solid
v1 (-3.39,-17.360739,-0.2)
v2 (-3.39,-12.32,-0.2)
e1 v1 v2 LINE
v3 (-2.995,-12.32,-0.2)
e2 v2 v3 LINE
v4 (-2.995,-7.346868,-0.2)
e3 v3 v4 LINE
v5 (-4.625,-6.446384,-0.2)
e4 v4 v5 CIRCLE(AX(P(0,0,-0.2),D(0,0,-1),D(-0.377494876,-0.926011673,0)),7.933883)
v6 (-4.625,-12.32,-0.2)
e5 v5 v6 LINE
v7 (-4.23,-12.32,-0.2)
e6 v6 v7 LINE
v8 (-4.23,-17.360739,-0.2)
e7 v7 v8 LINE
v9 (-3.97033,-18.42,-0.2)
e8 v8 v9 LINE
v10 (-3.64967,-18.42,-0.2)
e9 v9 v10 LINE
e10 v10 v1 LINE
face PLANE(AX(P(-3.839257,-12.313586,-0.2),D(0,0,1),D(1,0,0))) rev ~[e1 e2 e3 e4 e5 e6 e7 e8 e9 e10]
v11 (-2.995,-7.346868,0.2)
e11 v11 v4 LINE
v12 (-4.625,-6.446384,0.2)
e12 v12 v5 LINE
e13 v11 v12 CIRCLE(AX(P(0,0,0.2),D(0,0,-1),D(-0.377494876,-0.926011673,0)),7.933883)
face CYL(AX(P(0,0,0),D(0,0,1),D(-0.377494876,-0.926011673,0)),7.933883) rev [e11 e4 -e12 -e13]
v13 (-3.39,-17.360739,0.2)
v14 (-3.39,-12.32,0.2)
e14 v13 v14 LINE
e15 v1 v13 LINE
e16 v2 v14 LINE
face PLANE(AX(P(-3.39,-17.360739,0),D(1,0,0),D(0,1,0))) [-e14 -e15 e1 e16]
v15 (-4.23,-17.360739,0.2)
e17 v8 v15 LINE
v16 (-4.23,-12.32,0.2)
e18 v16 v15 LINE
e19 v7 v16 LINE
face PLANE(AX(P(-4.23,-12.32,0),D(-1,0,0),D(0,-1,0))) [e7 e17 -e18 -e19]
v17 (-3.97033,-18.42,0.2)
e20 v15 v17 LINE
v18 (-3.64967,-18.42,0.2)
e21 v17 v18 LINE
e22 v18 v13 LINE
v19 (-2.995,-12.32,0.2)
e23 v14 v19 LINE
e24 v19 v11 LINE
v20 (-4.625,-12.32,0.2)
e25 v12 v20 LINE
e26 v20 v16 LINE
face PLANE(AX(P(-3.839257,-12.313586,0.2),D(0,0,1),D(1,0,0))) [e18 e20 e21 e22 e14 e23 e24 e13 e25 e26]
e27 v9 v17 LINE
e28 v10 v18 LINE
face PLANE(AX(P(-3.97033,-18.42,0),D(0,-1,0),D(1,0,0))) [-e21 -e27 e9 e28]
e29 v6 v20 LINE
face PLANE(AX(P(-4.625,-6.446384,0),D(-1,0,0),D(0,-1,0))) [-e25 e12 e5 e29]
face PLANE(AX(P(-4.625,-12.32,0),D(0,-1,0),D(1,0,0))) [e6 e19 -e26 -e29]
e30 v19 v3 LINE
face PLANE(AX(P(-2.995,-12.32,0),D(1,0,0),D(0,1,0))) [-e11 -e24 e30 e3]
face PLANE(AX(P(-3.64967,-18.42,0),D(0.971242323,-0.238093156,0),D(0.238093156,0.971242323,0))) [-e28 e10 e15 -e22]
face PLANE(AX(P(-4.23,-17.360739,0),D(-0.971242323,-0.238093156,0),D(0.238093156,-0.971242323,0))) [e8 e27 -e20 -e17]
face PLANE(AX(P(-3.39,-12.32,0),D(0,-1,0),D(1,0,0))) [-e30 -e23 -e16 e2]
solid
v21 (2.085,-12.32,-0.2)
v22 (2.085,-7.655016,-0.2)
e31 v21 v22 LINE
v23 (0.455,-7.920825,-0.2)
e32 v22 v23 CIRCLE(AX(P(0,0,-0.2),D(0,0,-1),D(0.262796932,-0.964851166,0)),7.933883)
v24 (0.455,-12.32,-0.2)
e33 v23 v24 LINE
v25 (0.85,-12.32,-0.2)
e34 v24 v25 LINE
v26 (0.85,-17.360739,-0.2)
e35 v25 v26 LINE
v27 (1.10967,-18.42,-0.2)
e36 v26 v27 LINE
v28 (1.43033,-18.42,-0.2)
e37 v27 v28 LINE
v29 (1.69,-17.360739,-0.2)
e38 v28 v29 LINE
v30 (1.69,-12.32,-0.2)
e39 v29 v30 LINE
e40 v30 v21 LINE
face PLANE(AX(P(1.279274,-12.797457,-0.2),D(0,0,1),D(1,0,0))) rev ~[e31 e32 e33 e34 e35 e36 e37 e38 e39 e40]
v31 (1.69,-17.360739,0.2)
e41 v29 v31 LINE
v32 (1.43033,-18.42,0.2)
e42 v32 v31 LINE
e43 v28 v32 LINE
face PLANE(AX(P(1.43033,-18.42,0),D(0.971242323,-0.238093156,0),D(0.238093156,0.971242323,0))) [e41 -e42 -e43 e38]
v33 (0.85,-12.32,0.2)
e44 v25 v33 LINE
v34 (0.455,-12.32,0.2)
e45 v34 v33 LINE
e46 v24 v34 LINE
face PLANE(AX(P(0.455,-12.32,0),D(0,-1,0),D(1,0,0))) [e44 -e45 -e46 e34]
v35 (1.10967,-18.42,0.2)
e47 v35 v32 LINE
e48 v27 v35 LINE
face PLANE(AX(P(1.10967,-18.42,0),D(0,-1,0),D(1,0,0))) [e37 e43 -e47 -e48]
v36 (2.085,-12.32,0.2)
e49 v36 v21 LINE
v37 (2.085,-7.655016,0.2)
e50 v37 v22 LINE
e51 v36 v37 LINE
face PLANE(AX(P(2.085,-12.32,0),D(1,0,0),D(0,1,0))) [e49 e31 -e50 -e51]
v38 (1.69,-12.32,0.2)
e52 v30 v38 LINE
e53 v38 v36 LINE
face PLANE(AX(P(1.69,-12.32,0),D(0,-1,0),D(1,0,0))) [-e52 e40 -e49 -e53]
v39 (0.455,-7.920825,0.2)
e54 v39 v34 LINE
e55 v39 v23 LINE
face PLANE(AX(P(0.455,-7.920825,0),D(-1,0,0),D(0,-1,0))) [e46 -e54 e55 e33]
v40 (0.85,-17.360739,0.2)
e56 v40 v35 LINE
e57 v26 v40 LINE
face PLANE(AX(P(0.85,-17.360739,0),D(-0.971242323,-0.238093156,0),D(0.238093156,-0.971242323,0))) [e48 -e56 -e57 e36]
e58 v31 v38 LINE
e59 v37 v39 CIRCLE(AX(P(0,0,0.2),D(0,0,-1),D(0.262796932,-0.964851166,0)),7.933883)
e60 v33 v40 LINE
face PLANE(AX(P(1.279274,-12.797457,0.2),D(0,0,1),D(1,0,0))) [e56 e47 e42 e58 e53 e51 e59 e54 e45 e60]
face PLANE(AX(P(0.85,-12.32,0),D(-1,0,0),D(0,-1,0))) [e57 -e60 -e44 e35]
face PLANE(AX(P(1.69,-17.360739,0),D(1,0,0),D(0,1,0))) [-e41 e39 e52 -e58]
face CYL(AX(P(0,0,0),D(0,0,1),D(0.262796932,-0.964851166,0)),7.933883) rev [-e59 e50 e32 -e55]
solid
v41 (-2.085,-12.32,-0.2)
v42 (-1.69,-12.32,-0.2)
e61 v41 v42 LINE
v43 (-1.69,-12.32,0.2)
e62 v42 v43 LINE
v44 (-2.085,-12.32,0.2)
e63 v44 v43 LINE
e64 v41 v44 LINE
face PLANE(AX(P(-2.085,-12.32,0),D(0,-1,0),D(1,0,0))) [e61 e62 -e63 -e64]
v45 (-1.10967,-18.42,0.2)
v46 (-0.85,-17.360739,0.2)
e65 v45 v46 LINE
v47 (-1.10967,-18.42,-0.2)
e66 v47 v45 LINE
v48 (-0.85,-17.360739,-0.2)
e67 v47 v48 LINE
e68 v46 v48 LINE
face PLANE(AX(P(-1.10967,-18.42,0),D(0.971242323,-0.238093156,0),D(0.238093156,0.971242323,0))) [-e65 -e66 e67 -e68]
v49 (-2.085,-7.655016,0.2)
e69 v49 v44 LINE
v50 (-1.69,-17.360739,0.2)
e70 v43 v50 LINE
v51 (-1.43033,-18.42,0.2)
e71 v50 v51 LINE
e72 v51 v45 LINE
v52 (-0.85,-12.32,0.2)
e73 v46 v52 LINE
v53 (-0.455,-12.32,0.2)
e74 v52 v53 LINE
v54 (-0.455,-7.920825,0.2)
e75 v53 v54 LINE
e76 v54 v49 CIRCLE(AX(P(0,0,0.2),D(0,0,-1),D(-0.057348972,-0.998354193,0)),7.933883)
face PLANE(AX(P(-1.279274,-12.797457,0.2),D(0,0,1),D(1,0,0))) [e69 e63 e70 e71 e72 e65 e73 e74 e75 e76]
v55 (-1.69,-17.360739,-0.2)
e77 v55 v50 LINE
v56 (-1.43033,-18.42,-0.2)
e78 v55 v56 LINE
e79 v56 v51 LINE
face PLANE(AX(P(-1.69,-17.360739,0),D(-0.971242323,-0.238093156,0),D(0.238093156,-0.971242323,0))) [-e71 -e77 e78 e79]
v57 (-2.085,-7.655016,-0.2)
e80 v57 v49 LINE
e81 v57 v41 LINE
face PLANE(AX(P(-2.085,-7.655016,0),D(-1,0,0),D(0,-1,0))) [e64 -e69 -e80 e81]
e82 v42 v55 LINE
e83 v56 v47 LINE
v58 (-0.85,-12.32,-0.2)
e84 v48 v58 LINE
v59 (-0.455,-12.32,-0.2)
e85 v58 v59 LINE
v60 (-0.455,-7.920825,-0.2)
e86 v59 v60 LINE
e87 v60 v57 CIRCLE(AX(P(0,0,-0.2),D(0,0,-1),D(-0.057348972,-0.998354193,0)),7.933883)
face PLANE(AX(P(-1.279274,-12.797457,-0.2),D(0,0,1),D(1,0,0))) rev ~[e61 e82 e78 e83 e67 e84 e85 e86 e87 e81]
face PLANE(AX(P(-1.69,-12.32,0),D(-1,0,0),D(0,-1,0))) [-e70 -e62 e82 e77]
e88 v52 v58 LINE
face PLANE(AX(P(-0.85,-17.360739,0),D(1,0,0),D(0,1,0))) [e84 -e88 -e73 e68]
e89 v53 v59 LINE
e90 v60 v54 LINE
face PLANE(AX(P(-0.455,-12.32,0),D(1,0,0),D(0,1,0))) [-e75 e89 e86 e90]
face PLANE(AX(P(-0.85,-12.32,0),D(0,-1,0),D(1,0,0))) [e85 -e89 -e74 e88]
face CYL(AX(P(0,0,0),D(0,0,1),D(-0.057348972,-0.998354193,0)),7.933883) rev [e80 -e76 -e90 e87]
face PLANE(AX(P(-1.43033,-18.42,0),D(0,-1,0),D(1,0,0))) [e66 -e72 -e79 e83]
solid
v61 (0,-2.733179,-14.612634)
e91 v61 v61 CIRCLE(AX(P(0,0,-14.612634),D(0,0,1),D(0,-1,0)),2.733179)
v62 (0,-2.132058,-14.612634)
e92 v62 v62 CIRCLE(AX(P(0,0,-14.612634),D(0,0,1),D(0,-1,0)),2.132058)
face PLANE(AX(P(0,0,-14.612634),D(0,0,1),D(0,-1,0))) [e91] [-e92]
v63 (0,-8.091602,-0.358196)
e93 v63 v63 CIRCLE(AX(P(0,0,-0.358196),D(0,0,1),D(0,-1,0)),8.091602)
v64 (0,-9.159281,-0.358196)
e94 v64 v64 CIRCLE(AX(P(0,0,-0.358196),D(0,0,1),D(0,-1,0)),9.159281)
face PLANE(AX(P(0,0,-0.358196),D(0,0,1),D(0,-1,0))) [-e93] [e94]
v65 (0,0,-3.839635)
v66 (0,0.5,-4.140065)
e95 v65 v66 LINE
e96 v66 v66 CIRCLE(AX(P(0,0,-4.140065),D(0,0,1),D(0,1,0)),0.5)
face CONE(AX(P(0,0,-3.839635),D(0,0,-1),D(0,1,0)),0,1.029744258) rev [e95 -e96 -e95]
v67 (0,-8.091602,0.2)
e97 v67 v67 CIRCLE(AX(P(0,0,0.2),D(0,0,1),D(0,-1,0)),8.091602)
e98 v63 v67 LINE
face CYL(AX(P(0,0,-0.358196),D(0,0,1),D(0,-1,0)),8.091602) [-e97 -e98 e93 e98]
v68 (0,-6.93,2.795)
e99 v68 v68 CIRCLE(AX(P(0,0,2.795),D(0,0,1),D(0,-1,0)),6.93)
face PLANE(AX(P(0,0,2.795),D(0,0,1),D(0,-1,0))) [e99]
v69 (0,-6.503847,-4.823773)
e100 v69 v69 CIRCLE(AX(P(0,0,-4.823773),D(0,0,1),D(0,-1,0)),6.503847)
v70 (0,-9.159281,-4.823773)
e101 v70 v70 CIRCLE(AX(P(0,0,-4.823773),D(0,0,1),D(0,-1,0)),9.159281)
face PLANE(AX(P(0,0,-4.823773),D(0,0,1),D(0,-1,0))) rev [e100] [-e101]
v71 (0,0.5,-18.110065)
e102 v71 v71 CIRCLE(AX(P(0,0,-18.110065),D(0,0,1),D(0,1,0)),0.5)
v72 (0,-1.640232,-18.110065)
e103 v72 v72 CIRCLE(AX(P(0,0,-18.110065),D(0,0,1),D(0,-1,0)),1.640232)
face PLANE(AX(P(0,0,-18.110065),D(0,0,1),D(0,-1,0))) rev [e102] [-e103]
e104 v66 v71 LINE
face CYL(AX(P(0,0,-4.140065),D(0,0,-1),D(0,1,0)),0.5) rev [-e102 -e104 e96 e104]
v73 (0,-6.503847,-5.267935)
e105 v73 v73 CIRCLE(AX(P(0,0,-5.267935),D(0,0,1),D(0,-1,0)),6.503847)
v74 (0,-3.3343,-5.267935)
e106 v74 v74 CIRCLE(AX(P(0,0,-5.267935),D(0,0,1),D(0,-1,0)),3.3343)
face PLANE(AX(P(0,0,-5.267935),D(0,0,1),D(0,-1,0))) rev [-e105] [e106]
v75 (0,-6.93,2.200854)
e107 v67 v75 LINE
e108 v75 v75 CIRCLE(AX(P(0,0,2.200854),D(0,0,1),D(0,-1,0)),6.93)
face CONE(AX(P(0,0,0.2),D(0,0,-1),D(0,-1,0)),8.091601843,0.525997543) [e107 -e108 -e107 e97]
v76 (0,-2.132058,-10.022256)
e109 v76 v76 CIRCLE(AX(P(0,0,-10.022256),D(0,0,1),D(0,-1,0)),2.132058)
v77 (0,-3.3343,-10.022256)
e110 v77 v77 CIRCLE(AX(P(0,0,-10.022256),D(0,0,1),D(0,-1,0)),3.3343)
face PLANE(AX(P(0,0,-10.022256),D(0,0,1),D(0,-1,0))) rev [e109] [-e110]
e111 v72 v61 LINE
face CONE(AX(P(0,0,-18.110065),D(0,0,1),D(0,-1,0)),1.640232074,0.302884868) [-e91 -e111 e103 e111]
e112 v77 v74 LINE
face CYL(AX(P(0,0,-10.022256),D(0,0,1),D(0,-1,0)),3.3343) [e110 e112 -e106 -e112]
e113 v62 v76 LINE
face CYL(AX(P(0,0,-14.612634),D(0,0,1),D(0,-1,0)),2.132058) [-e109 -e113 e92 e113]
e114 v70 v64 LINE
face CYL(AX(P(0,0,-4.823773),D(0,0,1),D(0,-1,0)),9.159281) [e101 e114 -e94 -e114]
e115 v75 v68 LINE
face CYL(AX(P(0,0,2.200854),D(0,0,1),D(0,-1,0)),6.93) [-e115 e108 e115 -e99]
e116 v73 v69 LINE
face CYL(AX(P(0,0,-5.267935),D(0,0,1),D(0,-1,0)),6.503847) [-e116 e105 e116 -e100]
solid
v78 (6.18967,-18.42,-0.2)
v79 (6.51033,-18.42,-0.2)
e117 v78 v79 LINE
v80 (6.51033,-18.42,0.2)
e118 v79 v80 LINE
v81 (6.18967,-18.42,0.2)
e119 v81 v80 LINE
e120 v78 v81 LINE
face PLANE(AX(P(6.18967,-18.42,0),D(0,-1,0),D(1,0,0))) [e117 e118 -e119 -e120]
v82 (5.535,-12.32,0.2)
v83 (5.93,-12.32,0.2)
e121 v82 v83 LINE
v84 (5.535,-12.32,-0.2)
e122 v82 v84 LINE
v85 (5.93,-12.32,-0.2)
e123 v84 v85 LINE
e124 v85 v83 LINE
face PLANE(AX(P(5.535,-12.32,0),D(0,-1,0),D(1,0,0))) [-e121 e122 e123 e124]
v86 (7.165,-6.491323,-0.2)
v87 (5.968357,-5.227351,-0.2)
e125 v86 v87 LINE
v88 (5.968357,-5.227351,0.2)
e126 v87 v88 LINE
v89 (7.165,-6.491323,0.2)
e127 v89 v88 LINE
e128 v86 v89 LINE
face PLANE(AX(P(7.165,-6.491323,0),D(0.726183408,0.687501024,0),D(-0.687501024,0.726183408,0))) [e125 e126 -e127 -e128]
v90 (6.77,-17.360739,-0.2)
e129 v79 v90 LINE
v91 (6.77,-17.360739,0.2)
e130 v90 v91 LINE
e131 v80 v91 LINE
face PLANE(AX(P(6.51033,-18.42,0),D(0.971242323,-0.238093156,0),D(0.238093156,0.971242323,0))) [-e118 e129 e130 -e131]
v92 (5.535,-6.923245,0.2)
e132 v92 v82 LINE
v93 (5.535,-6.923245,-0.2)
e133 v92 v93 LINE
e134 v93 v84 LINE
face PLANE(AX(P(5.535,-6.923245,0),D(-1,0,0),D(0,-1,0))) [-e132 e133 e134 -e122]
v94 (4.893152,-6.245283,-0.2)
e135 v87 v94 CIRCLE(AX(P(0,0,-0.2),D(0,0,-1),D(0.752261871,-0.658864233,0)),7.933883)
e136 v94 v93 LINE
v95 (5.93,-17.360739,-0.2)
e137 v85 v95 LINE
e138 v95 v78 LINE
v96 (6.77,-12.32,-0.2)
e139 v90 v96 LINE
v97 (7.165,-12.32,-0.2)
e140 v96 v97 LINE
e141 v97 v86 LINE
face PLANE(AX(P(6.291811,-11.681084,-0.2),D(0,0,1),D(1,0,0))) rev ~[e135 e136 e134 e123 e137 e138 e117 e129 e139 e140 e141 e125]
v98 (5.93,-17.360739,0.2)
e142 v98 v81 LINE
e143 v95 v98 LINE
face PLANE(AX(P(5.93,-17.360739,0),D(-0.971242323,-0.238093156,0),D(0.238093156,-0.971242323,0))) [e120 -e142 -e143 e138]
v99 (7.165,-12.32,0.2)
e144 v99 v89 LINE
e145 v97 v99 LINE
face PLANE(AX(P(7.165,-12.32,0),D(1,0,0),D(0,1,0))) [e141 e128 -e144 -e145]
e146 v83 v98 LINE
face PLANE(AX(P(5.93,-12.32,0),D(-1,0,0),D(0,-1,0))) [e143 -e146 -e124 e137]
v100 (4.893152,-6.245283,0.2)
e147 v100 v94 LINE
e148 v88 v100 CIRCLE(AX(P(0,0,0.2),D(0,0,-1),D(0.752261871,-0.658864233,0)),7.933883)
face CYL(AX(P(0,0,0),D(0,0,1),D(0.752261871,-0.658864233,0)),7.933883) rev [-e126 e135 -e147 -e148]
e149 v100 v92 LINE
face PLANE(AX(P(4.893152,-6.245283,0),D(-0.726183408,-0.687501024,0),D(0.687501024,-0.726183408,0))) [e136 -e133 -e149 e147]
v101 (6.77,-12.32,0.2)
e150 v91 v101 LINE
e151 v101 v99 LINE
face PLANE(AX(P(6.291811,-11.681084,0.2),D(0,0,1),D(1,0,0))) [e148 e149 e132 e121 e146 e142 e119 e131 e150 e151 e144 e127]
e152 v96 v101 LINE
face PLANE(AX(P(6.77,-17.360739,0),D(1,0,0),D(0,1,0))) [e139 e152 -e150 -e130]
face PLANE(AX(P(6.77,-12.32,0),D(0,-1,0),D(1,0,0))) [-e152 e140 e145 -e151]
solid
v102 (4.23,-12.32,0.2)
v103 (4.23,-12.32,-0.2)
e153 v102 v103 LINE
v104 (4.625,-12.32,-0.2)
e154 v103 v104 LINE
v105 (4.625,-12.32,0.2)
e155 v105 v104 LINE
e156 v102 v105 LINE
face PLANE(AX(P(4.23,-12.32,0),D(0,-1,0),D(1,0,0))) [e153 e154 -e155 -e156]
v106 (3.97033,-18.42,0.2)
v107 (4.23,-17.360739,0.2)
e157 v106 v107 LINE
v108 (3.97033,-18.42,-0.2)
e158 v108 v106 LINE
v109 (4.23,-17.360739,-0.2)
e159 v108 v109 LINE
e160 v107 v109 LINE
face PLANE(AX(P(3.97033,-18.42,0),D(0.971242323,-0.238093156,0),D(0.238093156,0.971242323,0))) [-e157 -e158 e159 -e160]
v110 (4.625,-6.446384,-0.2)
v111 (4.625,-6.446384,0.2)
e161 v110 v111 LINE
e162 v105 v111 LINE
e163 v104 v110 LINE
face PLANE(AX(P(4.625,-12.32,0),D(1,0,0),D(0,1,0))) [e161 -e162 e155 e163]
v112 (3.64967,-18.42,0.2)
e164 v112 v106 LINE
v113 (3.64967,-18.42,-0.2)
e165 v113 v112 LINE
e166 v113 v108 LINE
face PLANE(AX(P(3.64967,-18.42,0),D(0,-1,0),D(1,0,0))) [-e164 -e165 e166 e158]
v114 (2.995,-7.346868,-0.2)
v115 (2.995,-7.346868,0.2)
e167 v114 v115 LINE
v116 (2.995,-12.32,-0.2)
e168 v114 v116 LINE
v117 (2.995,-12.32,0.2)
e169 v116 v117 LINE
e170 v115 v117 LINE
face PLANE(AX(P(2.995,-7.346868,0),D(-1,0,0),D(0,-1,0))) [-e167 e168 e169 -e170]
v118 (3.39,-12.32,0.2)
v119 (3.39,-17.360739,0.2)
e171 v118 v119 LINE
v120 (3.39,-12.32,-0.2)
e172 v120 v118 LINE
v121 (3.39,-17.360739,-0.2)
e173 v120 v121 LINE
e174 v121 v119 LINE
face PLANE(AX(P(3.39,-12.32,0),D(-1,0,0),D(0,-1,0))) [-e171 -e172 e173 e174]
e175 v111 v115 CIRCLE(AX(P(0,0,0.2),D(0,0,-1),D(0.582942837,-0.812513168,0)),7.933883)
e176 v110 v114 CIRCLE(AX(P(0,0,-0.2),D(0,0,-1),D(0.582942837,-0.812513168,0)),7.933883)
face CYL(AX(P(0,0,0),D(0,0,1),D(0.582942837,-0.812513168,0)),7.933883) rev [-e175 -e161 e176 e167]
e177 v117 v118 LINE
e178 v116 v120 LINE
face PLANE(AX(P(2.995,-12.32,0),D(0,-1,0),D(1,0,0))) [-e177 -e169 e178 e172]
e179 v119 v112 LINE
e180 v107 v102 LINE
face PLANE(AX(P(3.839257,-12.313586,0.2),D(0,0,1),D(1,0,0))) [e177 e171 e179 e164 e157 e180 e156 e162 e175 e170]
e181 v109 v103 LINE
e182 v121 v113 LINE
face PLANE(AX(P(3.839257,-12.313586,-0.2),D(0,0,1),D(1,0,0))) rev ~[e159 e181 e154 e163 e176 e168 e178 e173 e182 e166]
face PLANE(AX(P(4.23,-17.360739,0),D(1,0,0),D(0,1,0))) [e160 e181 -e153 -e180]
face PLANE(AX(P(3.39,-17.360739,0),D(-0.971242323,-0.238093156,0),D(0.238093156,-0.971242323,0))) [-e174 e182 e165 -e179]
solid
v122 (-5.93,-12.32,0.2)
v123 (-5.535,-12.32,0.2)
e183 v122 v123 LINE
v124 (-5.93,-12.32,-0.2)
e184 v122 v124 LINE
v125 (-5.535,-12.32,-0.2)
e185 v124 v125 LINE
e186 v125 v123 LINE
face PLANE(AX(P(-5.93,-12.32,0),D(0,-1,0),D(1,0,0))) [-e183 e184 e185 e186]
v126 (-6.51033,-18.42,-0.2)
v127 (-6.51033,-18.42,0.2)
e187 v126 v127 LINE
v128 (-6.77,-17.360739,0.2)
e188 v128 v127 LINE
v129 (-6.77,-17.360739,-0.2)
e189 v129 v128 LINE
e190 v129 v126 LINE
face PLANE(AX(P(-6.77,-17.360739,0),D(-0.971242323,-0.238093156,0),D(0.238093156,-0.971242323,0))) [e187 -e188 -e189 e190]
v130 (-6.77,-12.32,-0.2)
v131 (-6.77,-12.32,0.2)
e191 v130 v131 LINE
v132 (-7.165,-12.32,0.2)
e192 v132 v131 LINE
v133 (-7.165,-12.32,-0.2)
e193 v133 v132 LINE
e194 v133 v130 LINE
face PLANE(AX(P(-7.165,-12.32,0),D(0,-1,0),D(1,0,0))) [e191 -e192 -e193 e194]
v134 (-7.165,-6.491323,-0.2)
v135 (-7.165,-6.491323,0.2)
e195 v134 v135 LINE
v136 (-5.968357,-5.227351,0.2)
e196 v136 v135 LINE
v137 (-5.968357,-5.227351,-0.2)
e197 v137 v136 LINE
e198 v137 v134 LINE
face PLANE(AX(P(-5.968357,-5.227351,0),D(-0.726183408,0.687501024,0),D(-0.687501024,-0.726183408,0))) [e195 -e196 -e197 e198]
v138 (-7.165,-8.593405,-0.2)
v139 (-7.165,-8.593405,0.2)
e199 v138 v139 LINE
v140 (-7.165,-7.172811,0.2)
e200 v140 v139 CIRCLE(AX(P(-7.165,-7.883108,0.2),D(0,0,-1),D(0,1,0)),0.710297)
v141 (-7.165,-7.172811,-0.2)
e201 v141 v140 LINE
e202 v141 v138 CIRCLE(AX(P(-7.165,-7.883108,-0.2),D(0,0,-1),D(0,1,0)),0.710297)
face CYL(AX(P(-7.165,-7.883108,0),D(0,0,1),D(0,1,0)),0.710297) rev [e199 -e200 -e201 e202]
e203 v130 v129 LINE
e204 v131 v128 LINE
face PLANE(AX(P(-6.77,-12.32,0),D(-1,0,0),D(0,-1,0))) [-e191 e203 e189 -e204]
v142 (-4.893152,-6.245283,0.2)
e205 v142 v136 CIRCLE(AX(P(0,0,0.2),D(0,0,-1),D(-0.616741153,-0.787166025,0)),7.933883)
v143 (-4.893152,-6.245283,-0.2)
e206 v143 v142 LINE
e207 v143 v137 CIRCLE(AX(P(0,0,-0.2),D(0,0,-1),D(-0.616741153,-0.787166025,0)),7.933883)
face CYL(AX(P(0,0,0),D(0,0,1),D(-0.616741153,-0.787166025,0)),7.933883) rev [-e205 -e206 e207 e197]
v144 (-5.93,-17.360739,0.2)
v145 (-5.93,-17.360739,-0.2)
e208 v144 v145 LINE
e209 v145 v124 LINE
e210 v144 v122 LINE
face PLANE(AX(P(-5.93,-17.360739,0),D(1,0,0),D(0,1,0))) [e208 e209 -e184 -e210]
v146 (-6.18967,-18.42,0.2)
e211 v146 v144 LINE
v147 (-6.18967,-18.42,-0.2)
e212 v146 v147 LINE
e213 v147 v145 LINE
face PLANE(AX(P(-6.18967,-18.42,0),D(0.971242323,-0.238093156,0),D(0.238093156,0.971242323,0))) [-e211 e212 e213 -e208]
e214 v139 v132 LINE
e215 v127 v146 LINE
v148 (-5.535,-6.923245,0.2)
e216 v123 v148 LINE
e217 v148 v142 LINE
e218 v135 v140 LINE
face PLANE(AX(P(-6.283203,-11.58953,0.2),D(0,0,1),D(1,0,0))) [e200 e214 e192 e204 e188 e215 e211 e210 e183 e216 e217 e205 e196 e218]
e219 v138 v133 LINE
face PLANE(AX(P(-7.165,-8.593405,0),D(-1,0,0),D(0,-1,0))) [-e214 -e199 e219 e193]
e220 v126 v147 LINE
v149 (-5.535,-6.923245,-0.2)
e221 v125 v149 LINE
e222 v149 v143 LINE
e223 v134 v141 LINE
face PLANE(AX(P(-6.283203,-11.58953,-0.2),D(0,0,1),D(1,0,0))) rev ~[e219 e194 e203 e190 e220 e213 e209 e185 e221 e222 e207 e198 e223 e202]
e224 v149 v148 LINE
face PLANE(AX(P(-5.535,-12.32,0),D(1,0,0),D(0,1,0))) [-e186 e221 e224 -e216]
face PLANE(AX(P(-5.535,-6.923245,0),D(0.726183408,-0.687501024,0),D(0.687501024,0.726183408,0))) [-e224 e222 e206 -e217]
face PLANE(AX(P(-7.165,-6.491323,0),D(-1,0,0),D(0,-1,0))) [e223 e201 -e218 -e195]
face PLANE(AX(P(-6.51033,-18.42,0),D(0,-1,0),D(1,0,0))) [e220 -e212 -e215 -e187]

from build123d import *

# Parameters (mm, degrees)
EXTRUDE6_DEPTH        = 0.2
EXTRUDE6_DEPTH_BACK   = 0.2
EXTRUDE6_2_DEPTH      = 0.2
EXTRUDE6_2_DEPTH_BACK = 0.2
EXTRUDE6_3_DEPTH      = 0.2
EXTRUDE6_3_DEPTH_BACK = 0.2
EXTRUDE6_4_DEPTH      = 0.2
EXTRUDE6_4_DEPTH_BACK = 0.2
EXTRUDE6_5_DEPTH      = 0.2
EXTRUDE6_5_DEPTH_BACK = 0.2
EXTRUDE6_6_DEPTH      = 0.2
EXTRUDE6_6_DEPTH_BACK = 0.2


with BuildPart() as part:
    # Sketch7 → Extrude6 (new body, two sides)
    with BuildSketch(Plane.XY) as extrude6_sk:
        with BuildLine():
            Line((-5.93, -12.32), (-5.535, -12.32))
            Line((-5.535, -12.32), (-5.535, -6.923244628))
            Line((-5.535, -6.923244628), (-4.893151867, -6.24528278))
            ThreePointArc((-4.893151867, -6.24528278), (-5.454552369, -5.761453866), (-5.968357327, -5.227351434))
            Line((-5.968357327, -5.227351434), (-7.165, -6.49132345))
            Line((-7.165, -6.49132345), (-7.165, -7.17281133))
            ThreePointArc((-7.165, -7.17281133), (-6.454703172, -7.883108158), (-7.165, -8.593404986))
            Line((-7.165, -8.593404986), (-7.165, -12.32))
            Line((-7.165, -12.32), (-6.77, -12.32))
            Line((-6.77, -12.32), (-6.77, -17.360738904))
            Line((-6.77, -17.360738904), (-6.510329667, -18.42))
            Line((-6.510329667, -18.42), (-6.189670333, -18.42))
            Line((-6.189670333, -18.42), (-5.93, -17.360738904))
            Line((-5.93, -17.360738904), (-5.93, -12.32))
        make_face()
    extrude(amount=EXTRUDE6_DEPTH)
    extrude(extrude6_sk.sketch, amount=-EXTRUDE6_DEPTH_BACK)


with BuildPart() as body_2:
    # Sketch7 → Extrude6 2 (new body, two sides)
    with BuildSketch(Plane.XY) as extrude6_2_sk:
        with BuildLine():
            Line((-4.625, -6.446384041), (-4.625, -12.32))
            Line((-4.625, -12.32), (-4.23, -12.32))
            Line((-4.23, -12.32), (-4.23, -17.360738904))
            Line((-4.23, -17.360738904), (-3.970329667, -18.42))
            Line((-3.970329667, -18.42), (-3.649670333, -18.42))
            Line((-3.649670333, -18.42), (-3.39, -17.360738904))
            Line((-3.39, -17.360738904), (-3.39, -12.32))
            Line((-3.39, -12.32), (-2.995, -12.32))
            Line((-2.995, -12.32), (-2.995, -7.34686785))
            ThreePointArc((-2.995, -7.34686785), (-3.836511146, -6.944614779), (-4.625, -6.446384041))
        make_face()
    extrude(amount=EXTRUDE6_2_DEPTH)
    extrude(extrude6_2_sk.sketch, amount=-EXTRUDE6_2_DEPTH_BACK)


with BuildPart() as body_3:
    # Sketch7 → Extrude6 3 (new body, two sides)
    with BuildSketch(Plane.XY) as extrude6_3_sk:
        with BuildLine():
            Line((-0.455, -12.32), (-0.455, -7.920824907))
            ThreePointArc((-0.455, -7.920824907), (-1.276935244, -7.830448811), (-2.085, -7.65501582))
            Line((-2.085, -7.65501582), (-2.085, -12.32))
            Line((-2.085, -12.32), (-1.69, -12.32))
            Line((-1.69, -12.32), (-1.69, -17.360738904))
            Line((-1.69, -17.360738904), (-1.430329667, -18.42))
            Line((-1.430329667, -18.42), (-1.109670333, -18.42))
            Line((-1.109670333, -18.42), (-0.85, -17.360738904))
            Line((-0.85, -17.360738904), (-0.85, -12.32))
            Line((-0.85, -12.32), (-0.455, -12.32))
        make_face()
    extrude(amount=EXTRUDE6_3_DEPTH)
    extrude(extrude6_3_sk.sketch, amount=-EXTRUDE6_3_DEPTH_BACK)


with BuildPart() as body_4:
    # Sketch7 → Extrude6 4 (new body, two sides)
    with BuildSketch(Plane.XY) as extrude6_4_sk:
        with BuildLine():
            Line((4.625, -12.32), (4.625, -6.446384041))
            ThreePointArc((4.625, -6.446384041), (3.836511146, -6.944614779), (2.995, -7.34686785))
            Line((2.995, -7.34686785), (2.995, -12.32))
            Line((2.995, -12.32), (3.39, -12.32))
            Line((3.39, -12.32), (3.39, -17.360738904))
            Line((3.39, -17.360738904), (3.649670333, -18.42))
            Line((3.649670333, -18.42), (3.970329667, -18.42))
            Line((3.970329667, -18.42), (4.23, -17.360738904))
            Line((4.23, -17.360738904), (4.23, -12.32))
            Line((4.23, -12.32), (4.625, -12.32))
        make_face()
    extrude(amount=EXTRUDE6_4_DEPTH)
    extrude(extrude6_4_sk.sketch, amount=-EXTRUDE6_4_DEPTH_BACK)


with BuildPart() as body_5:
    # Sketch7 → Extrude6 5 (new body, two sides)
    with BuildSketch(Plane.XY) as extrude6_5_sk:
        with BuildLine():
            Line((0.455, -7.920824907), (0.455, -12.32))
            Line((0.455, -12.32), (0.85, -12.32))
            Line((0.85, -12.32), (0.85, -17.360738904))
            Line((0.85, -17.360738904), (1.109670333, -18.42))
            Line((1.109670333, -18.42), (1.430329667, -18.42))
            Line((1.430329667, -18.42), (1.69, -17.360738904))
            Line((1.69, -17.360738904), (1.69, -12.32))
            Line((1.69, -12.32), (2.085, -12.32))
            Line((2.085, -12.32), (2.085, -7.65501582))
            ThreePointArc((2.085, -7.65501582), (1.276935244, -7.830448811), (0.455, -7.920824907))
        make_face()
    extrude(amount=EXTRUDE6_5_DEPTH)
    extrude(extrude6_5_sk.sketch, amount=-EXTRUDE6_5_DEPTH_BACK)


with BuildPart() as body_6:
    # Sketch7 → Extrude6 6 (new body, two sides)
    with BuildSketch(Plane.XY) as extrude6_6_sk:
        with BuildLine():
            Line((5.535, -12.32), (5.93, -12.32))
            Line((5.93, -12.32), (5.93, -17.360738904))
            Line((5.93, -17.360738904), (6.189670333, -18.42))
            Line((6.189670333, -18.42), (6.510329667, -18.42))
            Line((6.510329667, -18.42), (6.77, -17.360738904))
            Line((6.77, -17.360738904), (6.77, -12.32))
            Line((6.77, -12.32), (7.165, -12.32))
            Line((7.165, -12.32), (7.165, -6.49132345))
            Line((7.165, -6.49132345), (5.968357327, -5.227351434))
            ThreePointArc((5.968357327, -5.227351434), (5.454552369, -5.761453866), (4.893151867, -6.24528278))
            Line((4.893151867, -6.24528278), (5.535, -6.923244628))
            Line((5.535, -6.923244628), (5.535, -12.32))
        make_face()
    extrude(amount=EXTRUDE6_6_DEPTH)
    extrude(extrude6_6_sk.sketch, amount=-EXTRUDE6_6_DEPTH_BACK)


with BuildPart() as body_7:
    # Sketch8 → Revolve1 (revolve)
    with BuildSketch(Plane(origin=(0, 0, 0), x_dir=(0, 0, -1), z_dir=(1, 0, 0))):
        Polygon((0.358195537, -9.159281465), (0.358195537, -8.091601843), (-0.2, -8.091601843), (-2.200853855, -6.93), (-2.795, -6.93), (-2.795, 0), (18.110064994, 0), (18.110064994, -1.640232074), (14.612633893, -2.733179292), (14.612633893, -2.132058322), (10.022255574, -2.132058322), (10.022255574, -3.334300263), (5.267935171, -3.334300263), (5.267935171, -6.503847198), (4.823772505, -6.503847198), (4.823772505, -9.159281465), align=None)
    revolve(axis=Axis((0, 0, 0), (0, 0, 1)))

    # Sketch9 → Ø1.0 (1) Diameter Hole1 (revolve, cut)
    with BuildSketch(Plane(origin=(0, 0, -18.110064994), x_dir=(0, 1, 0), z_dir=(1, 0, 0))):
        Polygon((0, 0), (0, 14.27043031), (0.5, 13.97), (0.5, 0), align=None)
    revolve(axis=Axis((0, 0, -24.460064994), (0, 0, 1)), mode=Mode.SUBTRACT)


solid = Compound([part.part, body_2.part, body_3.part, body_4.part, body_5.part, body_6.part, body_7.part])
